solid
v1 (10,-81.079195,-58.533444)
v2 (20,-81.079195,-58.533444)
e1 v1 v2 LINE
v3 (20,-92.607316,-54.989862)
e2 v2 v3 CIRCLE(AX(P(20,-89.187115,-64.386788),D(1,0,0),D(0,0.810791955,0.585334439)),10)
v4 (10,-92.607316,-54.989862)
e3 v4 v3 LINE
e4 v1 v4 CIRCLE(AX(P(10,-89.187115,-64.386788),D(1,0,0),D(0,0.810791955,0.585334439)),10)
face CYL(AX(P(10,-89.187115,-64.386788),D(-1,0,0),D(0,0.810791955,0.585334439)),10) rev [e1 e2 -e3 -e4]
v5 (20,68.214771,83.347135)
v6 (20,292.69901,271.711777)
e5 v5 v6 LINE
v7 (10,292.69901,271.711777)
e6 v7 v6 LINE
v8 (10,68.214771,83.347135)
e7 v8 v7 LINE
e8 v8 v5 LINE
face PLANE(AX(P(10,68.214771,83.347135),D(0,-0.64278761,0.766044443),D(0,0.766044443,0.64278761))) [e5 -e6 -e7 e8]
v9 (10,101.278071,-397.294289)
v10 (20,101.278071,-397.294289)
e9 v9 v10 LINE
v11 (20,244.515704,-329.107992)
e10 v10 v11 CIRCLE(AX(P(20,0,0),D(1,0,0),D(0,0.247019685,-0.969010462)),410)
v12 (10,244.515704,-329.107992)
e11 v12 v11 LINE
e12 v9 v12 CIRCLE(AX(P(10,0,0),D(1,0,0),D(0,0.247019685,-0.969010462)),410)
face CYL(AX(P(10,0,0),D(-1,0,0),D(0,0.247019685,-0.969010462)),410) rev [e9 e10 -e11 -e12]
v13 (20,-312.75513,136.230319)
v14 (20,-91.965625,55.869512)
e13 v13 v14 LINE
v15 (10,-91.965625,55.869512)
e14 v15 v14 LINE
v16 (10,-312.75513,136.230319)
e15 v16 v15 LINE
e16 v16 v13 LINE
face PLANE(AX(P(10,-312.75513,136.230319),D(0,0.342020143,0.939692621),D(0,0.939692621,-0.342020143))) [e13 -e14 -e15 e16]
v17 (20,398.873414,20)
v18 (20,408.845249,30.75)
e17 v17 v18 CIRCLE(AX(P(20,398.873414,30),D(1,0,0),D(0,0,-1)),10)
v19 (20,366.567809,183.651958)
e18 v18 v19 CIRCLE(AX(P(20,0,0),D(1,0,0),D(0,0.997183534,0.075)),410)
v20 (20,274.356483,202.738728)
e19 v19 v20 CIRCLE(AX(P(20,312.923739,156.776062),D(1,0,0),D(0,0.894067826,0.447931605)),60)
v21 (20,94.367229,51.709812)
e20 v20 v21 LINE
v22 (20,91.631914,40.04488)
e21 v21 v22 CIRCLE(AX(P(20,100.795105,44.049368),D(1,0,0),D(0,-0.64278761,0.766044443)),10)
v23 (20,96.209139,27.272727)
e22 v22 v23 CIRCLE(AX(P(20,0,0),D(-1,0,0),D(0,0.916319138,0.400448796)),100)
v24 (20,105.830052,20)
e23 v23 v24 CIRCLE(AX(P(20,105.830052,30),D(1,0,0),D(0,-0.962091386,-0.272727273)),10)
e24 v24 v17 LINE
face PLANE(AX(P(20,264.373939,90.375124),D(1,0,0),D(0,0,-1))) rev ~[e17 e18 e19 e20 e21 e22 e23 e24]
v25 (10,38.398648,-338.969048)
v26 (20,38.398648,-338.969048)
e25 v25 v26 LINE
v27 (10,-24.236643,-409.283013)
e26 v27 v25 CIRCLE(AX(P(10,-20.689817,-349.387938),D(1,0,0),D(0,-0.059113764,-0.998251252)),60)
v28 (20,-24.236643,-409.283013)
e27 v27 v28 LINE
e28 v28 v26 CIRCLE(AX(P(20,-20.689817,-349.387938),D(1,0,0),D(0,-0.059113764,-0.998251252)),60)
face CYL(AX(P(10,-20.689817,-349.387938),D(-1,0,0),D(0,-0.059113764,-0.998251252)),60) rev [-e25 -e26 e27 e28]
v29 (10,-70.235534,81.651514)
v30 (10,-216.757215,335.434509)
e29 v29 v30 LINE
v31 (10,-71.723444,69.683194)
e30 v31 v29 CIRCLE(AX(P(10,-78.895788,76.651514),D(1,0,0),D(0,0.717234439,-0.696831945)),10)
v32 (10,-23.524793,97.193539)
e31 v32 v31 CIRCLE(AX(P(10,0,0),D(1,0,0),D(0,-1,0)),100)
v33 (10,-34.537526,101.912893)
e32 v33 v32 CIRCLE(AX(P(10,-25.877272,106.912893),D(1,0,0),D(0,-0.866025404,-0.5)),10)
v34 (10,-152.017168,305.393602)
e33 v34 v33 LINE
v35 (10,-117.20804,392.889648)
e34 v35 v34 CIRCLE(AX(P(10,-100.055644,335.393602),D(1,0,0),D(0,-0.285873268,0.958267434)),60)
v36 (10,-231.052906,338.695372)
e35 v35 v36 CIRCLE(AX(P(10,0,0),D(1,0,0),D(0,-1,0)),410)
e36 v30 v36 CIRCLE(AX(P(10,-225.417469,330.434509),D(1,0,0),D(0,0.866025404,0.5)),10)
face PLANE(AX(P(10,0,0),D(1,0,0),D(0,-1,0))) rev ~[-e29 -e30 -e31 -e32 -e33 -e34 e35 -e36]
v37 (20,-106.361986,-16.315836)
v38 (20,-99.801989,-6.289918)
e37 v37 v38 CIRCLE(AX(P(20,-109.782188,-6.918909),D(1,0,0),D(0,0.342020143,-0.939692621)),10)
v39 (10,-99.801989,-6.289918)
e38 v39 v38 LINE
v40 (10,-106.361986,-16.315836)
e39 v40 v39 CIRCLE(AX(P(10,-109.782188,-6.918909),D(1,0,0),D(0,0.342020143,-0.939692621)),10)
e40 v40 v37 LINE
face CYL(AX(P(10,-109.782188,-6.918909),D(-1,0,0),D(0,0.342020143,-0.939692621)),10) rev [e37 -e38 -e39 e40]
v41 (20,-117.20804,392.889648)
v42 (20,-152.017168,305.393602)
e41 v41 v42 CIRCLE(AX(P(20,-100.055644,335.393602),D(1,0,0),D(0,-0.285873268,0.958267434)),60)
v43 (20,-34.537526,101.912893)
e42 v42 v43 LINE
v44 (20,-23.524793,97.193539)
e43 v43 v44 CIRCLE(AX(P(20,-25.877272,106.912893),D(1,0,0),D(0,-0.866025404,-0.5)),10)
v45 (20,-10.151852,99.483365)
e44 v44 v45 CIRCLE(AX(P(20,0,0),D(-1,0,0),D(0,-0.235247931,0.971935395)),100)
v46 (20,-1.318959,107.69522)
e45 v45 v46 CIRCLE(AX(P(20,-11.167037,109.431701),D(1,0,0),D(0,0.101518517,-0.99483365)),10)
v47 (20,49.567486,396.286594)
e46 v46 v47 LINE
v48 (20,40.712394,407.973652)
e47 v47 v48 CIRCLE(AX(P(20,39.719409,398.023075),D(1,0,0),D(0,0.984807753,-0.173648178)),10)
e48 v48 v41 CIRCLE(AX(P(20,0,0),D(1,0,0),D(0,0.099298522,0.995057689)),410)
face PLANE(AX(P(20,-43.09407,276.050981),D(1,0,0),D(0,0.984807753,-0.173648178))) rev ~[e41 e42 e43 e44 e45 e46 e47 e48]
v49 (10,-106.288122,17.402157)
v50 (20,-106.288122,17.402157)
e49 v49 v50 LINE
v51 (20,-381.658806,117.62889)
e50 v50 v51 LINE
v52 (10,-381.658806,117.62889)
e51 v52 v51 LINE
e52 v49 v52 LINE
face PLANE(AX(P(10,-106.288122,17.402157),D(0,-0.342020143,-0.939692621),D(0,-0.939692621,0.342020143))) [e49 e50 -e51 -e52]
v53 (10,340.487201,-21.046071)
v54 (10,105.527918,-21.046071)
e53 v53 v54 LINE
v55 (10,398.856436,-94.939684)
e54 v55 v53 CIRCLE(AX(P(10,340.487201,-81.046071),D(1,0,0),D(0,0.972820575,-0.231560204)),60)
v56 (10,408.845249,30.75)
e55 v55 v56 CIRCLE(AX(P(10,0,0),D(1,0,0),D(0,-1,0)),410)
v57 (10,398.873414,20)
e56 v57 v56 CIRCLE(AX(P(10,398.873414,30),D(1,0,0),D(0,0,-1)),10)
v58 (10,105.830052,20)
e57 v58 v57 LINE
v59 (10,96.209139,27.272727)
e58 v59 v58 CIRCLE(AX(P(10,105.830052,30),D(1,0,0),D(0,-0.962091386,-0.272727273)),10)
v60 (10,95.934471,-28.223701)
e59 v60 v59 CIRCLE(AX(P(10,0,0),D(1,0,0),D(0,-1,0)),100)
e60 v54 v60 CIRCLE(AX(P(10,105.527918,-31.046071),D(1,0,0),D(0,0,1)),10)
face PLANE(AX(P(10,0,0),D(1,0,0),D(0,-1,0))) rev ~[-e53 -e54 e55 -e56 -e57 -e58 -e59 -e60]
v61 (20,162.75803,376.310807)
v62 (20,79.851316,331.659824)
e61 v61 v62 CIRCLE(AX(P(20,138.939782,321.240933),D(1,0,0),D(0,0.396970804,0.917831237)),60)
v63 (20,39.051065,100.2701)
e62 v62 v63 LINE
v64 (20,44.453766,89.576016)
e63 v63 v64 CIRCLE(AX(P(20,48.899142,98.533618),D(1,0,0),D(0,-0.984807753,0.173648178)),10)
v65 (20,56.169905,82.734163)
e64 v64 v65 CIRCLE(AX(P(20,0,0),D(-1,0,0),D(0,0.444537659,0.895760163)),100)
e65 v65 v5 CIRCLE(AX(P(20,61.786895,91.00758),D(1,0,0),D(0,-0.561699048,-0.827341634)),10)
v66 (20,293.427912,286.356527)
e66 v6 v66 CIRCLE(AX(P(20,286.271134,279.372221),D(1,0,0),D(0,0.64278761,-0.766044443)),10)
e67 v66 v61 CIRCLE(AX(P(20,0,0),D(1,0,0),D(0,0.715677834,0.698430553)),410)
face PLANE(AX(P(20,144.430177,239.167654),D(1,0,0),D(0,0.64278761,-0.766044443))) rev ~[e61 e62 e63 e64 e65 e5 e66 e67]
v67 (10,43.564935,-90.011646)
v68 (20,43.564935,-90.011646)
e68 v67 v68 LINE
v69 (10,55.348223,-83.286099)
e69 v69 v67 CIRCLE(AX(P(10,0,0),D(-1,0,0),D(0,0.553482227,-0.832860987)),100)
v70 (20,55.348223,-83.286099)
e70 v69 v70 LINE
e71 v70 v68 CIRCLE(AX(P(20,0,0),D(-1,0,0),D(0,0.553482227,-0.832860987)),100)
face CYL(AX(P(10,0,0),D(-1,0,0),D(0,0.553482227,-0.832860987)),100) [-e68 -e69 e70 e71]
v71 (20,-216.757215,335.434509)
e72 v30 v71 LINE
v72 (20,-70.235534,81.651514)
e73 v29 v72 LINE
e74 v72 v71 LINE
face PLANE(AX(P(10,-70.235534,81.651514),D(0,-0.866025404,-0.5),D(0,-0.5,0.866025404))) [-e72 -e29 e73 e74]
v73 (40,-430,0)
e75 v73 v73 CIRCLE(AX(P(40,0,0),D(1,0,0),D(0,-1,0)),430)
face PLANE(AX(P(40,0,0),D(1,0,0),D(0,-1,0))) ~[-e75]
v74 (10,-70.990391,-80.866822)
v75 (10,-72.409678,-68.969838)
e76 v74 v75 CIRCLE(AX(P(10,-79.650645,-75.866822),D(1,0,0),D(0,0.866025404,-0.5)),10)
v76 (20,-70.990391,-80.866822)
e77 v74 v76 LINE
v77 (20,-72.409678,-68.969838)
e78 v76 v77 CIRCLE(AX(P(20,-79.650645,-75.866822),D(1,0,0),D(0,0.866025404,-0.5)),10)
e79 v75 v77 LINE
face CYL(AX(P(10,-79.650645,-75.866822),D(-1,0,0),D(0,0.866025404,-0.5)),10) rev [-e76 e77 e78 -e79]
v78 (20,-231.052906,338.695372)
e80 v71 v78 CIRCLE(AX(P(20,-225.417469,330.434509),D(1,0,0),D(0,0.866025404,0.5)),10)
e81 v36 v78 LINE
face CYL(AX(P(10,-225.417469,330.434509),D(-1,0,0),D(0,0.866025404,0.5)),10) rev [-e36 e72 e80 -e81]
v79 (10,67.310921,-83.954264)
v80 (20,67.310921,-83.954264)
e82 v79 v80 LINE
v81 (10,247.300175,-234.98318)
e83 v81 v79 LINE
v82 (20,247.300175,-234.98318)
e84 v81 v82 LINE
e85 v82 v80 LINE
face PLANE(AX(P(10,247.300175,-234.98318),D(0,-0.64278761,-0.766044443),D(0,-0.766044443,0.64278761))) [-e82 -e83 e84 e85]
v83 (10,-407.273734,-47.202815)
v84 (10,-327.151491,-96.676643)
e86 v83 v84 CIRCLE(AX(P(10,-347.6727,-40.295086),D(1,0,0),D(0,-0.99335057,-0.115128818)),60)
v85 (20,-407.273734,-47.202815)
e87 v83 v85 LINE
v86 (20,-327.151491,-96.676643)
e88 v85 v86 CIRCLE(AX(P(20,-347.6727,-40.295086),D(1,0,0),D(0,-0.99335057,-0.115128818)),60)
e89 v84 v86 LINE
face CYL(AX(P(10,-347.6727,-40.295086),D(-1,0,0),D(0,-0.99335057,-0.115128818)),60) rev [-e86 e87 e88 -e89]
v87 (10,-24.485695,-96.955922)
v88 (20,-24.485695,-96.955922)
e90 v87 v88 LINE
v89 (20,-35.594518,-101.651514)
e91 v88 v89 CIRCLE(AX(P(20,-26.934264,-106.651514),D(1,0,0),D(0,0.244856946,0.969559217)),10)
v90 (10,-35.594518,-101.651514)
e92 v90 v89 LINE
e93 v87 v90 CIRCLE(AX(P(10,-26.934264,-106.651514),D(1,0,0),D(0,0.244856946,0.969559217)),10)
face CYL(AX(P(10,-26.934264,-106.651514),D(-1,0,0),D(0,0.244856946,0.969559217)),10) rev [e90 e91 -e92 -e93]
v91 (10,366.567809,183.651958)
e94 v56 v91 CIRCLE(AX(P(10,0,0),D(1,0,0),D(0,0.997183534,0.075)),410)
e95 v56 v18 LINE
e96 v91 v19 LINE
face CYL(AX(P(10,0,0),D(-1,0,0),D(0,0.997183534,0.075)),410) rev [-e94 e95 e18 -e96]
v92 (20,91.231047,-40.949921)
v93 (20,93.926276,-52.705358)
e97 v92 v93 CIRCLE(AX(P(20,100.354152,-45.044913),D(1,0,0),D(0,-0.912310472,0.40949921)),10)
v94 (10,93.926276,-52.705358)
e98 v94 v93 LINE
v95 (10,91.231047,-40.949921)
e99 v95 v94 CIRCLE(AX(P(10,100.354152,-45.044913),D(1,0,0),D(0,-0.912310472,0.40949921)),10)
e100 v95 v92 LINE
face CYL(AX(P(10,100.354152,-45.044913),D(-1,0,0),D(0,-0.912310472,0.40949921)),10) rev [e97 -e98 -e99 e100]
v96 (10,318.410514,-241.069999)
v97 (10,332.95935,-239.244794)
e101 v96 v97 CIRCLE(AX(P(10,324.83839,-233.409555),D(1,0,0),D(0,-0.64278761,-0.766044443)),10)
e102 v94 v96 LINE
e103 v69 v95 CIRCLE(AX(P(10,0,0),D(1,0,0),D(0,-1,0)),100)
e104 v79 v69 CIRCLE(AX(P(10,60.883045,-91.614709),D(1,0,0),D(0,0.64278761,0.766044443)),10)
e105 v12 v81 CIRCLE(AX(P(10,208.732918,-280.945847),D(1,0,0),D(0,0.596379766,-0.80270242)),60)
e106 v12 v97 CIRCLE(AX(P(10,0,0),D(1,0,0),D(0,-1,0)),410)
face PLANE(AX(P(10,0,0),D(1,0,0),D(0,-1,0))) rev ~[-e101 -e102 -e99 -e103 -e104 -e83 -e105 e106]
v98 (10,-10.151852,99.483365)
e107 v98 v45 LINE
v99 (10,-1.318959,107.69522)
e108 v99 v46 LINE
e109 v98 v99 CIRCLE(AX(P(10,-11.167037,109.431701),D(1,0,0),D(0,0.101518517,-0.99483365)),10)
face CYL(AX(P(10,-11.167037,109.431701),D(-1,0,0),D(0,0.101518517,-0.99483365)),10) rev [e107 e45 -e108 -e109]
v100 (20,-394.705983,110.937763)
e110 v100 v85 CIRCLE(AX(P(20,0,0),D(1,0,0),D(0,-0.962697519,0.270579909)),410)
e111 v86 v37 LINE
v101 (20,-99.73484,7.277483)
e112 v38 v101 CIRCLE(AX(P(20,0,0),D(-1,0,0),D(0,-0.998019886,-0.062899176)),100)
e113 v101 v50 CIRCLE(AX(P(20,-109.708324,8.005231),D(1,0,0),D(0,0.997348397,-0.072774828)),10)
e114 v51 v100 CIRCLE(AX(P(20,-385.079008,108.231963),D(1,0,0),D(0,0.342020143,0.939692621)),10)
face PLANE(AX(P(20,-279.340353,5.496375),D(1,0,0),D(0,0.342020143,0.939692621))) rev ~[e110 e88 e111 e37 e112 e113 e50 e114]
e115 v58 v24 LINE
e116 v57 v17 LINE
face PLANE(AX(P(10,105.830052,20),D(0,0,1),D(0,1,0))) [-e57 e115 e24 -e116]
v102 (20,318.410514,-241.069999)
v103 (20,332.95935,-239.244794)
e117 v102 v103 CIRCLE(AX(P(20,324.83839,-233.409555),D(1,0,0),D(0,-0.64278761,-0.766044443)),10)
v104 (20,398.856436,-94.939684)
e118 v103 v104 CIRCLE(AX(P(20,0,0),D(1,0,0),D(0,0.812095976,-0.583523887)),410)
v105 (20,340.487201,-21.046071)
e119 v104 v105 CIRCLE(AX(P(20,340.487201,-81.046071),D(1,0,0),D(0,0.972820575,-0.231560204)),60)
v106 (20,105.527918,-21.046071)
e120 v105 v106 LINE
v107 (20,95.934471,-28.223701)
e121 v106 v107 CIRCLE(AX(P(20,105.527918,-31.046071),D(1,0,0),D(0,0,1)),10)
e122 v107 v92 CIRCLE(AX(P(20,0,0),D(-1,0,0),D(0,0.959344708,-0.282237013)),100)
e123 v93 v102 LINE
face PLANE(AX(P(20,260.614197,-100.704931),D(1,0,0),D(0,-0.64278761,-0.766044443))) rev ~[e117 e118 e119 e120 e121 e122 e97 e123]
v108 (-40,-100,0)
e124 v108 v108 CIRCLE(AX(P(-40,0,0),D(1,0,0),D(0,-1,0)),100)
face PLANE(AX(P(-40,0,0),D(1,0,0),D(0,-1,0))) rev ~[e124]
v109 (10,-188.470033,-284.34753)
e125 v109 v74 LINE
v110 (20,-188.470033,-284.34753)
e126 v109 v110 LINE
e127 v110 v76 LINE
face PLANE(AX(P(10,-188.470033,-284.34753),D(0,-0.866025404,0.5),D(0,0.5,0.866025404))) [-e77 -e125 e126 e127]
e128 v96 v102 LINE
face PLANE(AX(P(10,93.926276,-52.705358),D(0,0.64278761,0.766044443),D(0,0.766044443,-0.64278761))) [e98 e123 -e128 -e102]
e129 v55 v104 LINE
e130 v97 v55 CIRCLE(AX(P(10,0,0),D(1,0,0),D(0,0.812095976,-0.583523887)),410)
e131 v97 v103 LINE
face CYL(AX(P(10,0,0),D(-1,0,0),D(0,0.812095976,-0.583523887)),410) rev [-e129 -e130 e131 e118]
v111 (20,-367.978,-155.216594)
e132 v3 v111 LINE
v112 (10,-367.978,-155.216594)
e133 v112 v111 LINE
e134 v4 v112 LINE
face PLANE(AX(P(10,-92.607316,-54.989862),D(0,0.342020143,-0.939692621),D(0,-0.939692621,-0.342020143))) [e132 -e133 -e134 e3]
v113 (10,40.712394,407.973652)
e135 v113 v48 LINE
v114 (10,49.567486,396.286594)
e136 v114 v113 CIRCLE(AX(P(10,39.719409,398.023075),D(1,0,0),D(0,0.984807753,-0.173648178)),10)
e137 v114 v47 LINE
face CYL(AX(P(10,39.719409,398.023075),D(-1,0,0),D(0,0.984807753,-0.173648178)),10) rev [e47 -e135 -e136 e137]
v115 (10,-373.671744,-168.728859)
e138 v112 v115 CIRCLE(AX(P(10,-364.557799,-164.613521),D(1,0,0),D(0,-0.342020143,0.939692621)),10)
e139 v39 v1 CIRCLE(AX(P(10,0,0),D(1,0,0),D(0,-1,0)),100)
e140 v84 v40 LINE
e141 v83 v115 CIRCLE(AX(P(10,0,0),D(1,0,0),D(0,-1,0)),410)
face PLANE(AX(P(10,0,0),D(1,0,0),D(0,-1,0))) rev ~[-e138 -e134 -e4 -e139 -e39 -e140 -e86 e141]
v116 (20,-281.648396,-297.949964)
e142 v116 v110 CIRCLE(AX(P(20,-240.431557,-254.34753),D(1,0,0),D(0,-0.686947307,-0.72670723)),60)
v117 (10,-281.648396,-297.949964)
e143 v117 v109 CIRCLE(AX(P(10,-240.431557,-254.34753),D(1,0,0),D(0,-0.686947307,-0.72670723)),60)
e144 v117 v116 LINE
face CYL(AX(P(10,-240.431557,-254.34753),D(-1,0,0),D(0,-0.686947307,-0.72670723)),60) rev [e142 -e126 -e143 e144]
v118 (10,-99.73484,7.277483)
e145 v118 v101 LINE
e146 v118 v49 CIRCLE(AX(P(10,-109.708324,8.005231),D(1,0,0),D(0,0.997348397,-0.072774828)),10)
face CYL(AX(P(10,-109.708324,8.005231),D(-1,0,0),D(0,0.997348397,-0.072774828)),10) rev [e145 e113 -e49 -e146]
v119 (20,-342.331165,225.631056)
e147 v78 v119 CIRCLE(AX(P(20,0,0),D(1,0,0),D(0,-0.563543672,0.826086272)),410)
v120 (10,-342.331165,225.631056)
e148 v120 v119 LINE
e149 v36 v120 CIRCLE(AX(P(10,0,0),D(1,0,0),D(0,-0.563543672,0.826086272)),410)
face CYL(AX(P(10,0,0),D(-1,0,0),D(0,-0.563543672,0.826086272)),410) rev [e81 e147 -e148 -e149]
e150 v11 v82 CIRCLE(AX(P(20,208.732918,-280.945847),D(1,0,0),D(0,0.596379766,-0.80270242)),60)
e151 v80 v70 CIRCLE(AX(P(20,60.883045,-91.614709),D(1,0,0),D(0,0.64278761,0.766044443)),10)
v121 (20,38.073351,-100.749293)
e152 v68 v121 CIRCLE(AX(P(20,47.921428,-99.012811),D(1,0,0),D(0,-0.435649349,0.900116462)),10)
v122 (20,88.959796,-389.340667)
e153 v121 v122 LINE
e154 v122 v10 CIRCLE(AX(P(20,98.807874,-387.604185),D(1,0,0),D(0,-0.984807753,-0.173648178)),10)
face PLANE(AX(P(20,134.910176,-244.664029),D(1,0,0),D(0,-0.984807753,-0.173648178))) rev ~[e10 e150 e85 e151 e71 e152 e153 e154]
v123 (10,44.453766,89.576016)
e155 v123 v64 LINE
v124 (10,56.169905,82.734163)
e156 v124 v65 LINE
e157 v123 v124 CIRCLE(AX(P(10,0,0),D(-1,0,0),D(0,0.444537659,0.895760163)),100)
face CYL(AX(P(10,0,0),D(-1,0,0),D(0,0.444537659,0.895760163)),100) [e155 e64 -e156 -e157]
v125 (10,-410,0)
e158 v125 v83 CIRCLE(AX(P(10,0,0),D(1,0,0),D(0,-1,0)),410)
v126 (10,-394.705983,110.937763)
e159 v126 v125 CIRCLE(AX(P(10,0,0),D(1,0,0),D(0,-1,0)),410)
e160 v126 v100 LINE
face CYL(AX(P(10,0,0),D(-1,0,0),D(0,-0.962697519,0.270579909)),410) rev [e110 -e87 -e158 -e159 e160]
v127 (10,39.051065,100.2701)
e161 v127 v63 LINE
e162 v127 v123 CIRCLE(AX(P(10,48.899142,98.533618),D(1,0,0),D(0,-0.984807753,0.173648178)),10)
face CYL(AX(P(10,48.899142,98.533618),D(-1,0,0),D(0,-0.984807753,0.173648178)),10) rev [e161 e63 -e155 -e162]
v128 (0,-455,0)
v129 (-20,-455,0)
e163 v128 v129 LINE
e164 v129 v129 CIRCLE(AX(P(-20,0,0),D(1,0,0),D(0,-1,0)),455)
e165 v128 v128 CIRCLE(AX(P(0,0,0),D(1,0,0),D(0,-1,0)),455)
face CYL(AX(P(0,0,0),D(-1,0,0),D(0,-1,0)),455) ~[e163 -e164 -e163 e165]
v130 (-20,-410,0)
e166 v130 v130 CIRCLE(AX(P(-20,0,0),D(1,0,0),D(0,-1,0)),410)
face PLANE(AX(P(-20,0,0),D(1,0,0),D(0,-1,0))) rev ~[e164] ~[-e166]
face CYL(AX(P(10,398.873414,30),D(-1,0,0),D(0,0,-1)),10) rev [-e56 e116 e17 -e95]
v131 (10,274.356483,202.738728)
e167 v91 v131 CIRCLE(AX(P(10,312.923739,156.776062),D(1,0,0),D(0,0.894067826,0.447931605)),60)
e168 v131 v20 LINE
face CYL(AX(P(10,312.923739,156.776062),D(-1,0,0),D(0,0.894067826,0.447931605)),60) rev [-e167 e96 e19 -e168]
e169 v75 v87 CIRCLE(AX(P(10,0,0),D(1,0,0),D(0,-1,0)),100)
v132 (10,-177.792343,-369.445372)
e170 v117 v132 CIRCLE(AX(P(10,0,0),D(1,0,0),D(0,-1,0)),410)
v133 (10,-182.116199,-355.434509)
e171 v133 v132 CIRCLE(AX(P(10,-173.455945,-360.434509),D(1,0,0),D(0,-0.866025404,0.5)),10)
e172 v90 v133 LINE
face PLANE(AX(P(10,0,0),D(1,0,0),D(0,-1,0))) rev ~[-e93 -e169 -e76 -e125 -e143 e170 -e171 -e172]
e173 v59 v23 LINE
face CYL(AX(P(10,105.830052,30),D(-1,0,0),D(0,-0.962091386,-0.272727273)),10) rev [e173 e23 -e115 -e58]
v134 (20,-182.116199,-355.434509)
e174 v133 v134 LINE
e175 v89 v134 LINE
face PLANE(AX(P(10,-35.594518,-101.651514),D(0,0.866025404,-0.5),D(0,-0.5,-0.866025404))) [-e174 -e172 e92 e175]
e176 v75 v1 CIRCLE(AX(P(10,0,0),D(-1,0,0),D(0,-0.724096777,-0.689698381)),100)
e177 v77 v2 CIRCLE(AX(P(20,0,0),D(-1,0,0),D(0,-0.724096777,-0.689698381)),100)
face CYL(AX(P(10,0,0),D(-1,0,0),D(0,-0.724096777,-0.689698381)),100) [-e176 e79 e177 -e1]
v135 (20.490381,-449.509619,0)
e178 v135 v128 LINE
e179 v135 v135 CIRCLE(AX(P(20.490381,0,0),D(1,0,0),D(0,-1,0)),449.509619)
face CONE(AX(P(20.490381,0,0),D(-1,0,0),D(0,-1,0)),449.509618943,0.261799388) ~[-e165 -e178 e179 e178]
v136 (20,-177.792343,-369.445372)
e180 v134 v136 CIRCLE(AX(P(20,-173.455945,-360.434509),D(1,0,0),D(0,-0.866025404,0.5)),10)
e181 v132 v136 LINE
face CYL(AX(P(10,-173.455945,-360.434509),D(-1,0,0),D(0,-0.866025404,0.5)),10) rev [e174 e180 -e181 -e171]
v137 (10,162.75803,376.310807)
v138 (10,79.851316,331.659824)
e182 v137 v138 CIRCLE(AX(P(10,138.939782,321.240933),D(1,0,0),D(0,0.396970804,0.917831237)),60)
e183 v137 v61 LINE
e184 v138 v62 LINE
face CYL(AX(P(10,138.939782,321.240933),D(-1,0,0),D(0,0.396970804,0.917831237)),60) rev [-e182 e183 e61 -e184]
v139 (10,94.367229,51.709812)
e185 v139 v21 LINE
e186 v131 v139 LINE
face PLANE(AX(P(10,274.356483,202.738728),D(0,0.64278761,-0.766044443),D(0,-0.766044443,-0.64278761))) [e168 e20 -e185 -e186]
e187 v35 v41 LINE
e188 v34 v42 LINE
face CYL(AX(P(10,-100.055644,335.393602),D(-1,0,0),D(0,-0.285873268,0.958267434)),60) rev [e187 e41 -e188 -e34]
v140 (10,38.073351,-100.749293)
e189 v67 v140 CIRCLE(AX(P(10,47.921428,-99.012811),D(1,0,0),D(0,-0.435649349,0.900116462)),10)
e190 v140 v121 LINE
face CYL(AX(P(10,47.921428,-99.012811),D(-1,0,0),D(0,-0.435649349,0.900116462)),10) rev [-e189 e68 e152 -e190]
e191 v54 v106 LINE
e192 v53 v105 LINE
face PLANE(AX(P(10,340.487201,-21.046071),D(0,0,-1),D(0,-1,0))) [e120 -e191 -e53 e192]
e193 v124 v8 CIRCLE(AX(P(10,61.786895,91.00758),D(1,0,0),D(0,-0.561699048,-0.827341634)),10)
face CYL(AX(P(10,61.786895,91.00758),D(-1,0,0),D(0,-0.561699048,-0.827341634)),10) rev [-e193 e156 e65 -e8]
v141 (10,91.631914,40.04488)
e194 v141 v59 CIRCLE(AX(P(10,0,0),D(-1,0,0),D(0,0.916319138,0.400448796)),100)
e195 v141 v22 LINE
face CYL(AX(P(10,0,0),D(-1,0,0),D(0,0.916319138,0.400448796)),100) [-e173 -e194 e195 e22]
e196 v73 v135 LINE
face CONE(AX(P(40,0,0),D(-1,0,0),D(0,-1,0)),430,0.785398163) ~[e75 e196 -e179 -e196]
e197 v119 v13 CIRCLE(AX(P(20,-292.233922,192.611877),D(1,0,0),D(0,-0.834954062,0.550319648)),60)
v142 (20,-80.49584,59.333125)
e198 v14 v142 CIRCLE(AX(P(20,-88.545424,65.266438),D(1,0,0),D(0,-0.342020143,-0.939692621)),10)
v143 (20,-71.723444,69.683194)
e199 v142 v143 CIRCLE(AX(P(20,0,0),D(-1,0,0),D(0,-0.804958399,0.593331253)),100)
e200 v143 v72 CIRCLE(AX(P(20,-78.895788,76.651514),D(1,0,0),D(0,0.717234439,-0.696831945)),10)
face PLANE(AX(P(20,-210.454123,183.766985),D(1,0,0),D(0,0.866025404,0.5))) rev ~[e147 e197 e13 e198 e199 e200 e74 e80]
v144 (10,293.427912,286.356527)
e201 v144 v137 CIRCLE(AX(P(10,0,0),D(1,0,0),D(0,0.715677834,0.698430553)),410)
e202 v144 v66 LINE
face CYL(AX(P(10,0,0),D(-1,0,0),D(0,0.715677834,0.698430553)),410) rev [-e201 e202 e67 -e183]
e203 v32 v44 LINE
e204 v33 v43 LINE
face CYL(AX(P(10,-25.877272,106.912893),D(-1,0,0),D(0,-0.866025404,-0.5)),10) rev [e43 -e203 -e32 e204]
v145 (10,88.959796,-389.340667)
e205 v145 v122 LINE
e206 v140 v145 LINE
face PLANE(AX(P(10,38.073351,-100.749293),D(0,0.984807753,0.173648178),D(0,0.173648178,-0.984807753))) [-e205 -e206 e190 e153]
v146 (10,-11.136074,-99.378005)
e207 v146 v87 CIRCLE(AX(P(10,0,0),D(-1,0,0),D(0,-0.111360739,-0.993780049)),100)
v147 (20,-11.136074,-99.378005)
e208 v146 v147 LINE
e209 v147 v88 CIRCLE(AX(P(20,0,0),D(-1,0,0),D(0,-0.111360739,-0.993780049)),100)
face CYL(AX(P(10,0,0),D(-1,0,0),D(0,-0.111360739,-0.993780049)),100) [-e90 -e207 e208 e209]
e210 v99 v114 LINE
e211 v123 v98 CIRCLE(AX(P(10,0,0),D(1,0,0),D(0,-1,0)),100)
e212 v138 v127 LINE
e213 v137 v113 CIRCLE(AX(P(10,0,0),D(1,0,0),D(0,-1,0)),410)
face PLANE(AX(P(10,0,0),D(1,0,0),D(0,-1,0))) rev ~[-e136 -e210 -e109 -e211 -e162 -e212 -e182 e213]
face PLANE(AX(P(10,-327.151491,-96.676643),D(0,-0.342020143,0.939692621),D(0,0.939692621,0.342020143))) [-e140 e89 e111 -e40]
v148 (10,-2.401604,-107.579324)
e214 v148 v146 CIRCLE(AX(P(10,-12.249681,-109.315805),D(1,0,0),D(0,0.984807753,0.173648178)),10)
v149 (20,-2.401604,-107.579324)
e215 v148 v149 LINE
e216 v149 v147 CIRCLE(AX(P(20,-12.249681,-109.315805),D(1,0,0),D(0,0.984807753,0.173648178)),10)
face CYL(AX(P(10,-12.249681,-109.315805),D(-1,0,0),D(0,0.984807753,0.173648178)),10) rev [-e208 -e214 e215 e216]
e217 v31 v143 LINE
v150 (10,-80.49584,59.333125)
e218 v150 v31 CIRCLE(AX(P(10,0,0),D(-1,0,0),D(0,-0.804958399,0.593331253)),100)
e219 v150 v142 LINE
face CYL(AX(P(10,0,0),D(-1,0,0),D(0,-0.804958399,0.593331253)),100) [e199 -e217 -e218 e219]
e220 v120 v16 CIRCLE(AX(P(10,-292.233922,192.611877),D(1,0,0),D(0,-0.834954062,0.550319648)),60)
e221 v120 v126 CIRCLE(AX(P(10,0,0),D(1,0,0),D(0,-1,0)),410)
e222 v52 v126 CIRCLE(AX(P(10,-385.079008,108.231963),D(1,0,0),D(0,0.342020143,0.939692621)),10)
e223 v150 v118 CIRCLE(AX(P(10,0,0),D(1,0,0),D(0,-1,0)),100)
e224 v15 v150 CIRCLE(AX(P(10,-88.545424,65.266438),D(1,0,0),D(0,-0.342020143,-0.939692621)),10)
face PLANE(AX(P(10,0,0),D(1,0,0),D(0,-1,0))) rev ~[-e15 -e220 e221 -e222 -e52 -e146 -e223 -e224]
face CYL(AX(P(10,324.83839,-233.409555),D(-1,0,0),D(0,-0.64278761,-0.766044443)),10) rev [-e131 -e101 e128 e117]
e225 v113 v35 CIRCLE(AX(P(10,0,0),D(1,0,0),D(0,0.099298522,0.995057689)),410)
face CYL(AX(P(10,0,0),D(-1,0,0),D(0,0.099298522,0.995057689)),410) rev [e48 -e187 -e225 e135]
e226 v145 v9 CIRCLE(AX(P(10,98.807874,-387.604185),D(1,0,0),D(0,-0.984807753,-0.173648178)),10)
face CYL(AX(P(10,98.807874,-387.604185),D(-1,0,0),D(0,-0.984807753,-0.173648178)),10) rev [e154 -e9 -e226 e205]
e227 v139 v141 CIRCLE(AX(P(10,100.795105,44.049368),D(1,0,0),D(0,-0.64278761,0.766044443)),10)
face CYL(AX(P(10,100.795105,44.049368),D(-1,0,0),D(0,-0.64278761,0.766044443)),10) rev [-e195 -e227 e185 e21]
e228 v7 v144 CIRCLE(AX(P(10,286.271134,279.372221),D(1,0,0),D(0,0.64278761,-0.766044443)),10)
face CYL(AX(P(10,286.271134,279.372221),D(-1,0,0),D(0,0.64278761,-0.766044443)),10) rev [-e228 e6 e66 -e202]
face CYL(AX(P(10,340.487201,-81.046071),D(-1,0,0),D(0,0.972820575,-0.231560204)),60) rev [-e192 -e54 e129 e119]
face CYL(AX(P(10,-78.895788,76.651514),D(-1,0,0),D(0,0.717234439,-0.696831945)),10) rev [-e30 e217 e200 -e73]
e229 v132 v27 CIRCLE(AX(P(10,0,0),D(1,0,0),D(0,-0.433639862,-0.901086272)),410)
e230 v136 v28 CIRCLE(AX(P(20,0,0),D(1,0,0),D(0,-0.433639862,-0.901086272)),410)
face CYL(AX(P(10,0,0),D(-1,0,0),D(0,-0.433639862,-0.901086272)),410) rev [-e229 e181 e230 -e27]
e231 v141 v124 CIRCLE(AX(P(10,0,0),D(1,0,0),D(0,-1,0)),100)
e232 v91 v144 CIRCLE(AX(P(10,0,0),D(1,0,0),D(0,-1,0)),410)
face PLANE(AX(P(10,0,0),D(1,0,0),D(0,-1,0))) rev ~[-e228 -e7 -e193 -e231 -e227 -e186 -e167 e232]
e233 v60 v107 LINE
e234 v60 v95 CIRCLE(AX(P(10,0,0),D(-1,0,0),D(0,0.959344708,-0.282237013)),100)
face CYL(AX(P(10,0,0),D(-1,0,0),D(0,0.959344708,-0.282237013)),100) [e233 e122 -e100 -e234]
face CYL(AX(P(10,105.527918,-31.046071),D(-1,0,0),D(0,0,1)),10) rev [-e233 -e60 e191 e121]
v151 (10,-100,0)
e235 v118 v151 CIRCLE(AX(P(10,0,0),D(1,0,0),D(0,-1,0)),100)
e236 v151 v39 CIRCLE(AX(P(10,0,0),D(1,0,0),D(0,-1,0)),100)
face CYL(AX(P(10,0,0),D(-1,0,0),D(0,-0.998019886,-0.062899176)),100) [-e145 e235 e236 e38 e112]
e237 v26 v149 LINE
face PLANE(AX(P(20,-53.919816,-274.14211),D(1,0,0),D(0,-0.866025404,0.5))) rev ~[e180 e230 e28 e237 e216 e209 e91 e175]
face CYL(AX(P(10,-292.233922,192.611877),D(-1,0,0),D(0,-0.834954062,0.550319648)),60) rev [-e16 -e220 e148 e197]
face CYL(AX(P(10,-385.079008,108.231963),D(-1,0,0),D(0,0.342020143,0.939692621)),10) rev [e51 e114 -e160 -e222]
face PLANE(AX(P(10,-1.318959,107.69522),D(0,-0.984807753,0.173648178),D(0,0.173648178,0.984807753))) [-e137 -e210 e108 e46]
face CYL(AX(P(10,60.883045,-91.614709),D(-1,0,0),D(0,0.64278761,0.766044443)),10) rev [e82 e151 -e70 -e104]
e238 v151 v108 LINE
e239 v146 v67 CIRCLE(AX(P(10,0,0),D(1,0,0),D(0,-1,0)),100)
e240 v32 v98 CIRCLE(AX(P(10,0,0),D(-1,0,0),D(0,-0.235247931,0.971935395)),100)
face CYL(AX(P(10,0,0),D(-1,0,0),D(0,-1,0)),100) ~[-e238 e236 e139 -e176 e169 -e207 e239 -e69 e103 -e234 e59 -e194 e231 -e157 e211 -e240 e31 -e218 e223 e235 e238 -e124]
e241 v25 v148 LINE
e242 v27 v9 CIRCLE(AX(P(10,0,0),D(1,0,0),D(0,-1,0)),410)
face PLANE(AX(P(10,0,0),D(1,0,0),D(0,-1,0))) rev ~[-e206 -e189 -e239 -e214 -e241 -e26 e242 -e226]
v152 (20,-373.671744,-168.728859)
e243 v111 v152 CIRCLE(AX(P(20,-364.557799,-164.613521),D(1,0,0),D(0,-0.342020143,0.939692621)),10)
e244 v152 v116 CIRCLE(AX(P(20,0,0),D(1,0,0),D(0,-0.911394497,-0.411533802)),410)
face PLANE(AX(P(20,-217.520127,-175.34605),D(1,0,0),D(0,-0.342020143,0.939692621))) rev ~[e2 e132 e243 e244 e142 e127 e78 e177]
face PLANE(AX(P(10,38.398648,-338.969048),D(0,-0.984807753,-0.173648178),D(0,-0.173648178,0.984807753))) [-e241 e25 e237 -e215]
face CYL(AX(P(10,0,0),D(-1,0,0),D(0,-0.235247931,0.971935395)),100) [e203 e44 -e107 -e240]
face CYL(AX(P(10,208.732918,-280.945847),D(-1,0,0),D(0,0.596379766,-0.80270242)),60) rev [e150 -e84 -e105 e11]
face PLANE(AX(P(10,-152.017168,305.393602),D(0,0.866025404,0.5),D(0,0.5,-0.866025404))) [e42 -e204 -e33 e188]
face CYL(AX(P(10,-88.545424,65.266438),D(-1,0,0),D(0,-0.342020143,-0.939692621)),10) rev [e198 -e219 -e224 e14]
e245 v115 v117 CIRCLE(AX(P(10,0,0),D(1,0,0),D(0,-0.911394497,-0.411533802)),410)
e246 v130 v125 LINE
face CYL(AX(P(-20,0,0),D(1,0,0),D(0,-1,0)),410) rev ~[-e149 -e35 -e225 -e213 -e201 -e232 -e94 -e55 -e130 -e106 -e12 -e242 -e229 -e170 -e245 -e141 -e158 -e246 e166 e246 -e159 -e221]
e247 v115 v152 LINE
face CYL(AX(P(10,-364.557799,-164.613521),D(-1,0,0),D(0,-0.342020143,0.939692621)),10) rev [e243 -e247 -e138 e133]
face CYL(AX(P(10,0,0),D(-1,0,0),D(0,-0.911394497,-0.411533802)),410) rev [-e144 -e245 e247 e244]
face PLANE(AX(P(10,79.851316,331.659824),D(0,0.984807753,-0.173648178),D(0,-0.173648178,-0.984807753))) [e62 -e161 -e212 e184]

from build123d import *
from build123d.topology import SkipClean

# Parameters (mm, degrees)
CUT_EXTRUDE3_DEPTH = 10
CIRPATTERN1_COUNT  = 9


with BuildPart() as part:
    # Sketch1 → Revolve1 (revolve)
    with BuildSketch(Plane.XY, mode=Mode.PRIVATE) as revolve1_sk:
        Polygon((-40, 100), (-40, 0), (40, 0), (40, 430), (20.490381057, 449.509618943), (0, 455), (-20, 455), (-20, 410), (10, 410), (10, 100), (-20, 100), align=None)
    revolve(revolve1_sk.sketch.rotate(Axis((-40, 0, 0), (1, 0, 0)), 180), axis=Axis((-40, 0, 0), (1, 0, 0)))

    # Sketch2 → Cut-Extrude3 (cut)
    with SkipClean():  # the faces are left unmerged after this step: merging them gives an invalid solid
        with BuildSketch(Plane.ZY.offset(-10)):
            with BuildLine():
                Line((20, 105.830052443), (20, 398.873413504))
                ThreePointArc((20, 398.873413504), (23.199264746, 406.204852653), (30.75, 408.845248841))
                ThreePointArc((30.75, 408.845248841), (109.265252373, 395.172246778), (183.651957914, 366.567808672))
                ThreePointArc((183.651957914, 366.567808672), (215.530603819, 325.085308606), (202.738728221, 274.356482529))
                Line((202.738728221, 274.356482529), (51.709811994, 94.367229029))
                ThreePointArc((51.709811994, 94.367229029), (46.332346285, 91.059191807), (40.044879602, 91.631913751))
                ThreePointArc((40.044879602, 91.631913751), (33.736520206, 94.137384733), (27.272727273, 96.209138584))
                ThreePointArc((27.272727273, 96.209138584), (22.022759648, 99.799825551), (20, 105.830052443))
            make_face()
        cut_extrude3 = extrude(amount=-CUT_EXTRUDE3_DEPTH, mode=Mode.SUBTRACT)

    # CirPattern1: Cut-Extrude3 ×9 about axis
    with SkipClean():  # the faces are left unmerged after this step: merging them gives an invalid solid
        cirpattern1_axis = Axis((0, 0, 0), (1, 0, 0))
        for i in range(1, CIRPATTERN1_COUNT):
            add(cut_extrude3.rotate(cirpattern1_axis, i * 360 / CIRPATTERN1_COUNT), mode=Mode.SUBTRACT)


solid = part.part
